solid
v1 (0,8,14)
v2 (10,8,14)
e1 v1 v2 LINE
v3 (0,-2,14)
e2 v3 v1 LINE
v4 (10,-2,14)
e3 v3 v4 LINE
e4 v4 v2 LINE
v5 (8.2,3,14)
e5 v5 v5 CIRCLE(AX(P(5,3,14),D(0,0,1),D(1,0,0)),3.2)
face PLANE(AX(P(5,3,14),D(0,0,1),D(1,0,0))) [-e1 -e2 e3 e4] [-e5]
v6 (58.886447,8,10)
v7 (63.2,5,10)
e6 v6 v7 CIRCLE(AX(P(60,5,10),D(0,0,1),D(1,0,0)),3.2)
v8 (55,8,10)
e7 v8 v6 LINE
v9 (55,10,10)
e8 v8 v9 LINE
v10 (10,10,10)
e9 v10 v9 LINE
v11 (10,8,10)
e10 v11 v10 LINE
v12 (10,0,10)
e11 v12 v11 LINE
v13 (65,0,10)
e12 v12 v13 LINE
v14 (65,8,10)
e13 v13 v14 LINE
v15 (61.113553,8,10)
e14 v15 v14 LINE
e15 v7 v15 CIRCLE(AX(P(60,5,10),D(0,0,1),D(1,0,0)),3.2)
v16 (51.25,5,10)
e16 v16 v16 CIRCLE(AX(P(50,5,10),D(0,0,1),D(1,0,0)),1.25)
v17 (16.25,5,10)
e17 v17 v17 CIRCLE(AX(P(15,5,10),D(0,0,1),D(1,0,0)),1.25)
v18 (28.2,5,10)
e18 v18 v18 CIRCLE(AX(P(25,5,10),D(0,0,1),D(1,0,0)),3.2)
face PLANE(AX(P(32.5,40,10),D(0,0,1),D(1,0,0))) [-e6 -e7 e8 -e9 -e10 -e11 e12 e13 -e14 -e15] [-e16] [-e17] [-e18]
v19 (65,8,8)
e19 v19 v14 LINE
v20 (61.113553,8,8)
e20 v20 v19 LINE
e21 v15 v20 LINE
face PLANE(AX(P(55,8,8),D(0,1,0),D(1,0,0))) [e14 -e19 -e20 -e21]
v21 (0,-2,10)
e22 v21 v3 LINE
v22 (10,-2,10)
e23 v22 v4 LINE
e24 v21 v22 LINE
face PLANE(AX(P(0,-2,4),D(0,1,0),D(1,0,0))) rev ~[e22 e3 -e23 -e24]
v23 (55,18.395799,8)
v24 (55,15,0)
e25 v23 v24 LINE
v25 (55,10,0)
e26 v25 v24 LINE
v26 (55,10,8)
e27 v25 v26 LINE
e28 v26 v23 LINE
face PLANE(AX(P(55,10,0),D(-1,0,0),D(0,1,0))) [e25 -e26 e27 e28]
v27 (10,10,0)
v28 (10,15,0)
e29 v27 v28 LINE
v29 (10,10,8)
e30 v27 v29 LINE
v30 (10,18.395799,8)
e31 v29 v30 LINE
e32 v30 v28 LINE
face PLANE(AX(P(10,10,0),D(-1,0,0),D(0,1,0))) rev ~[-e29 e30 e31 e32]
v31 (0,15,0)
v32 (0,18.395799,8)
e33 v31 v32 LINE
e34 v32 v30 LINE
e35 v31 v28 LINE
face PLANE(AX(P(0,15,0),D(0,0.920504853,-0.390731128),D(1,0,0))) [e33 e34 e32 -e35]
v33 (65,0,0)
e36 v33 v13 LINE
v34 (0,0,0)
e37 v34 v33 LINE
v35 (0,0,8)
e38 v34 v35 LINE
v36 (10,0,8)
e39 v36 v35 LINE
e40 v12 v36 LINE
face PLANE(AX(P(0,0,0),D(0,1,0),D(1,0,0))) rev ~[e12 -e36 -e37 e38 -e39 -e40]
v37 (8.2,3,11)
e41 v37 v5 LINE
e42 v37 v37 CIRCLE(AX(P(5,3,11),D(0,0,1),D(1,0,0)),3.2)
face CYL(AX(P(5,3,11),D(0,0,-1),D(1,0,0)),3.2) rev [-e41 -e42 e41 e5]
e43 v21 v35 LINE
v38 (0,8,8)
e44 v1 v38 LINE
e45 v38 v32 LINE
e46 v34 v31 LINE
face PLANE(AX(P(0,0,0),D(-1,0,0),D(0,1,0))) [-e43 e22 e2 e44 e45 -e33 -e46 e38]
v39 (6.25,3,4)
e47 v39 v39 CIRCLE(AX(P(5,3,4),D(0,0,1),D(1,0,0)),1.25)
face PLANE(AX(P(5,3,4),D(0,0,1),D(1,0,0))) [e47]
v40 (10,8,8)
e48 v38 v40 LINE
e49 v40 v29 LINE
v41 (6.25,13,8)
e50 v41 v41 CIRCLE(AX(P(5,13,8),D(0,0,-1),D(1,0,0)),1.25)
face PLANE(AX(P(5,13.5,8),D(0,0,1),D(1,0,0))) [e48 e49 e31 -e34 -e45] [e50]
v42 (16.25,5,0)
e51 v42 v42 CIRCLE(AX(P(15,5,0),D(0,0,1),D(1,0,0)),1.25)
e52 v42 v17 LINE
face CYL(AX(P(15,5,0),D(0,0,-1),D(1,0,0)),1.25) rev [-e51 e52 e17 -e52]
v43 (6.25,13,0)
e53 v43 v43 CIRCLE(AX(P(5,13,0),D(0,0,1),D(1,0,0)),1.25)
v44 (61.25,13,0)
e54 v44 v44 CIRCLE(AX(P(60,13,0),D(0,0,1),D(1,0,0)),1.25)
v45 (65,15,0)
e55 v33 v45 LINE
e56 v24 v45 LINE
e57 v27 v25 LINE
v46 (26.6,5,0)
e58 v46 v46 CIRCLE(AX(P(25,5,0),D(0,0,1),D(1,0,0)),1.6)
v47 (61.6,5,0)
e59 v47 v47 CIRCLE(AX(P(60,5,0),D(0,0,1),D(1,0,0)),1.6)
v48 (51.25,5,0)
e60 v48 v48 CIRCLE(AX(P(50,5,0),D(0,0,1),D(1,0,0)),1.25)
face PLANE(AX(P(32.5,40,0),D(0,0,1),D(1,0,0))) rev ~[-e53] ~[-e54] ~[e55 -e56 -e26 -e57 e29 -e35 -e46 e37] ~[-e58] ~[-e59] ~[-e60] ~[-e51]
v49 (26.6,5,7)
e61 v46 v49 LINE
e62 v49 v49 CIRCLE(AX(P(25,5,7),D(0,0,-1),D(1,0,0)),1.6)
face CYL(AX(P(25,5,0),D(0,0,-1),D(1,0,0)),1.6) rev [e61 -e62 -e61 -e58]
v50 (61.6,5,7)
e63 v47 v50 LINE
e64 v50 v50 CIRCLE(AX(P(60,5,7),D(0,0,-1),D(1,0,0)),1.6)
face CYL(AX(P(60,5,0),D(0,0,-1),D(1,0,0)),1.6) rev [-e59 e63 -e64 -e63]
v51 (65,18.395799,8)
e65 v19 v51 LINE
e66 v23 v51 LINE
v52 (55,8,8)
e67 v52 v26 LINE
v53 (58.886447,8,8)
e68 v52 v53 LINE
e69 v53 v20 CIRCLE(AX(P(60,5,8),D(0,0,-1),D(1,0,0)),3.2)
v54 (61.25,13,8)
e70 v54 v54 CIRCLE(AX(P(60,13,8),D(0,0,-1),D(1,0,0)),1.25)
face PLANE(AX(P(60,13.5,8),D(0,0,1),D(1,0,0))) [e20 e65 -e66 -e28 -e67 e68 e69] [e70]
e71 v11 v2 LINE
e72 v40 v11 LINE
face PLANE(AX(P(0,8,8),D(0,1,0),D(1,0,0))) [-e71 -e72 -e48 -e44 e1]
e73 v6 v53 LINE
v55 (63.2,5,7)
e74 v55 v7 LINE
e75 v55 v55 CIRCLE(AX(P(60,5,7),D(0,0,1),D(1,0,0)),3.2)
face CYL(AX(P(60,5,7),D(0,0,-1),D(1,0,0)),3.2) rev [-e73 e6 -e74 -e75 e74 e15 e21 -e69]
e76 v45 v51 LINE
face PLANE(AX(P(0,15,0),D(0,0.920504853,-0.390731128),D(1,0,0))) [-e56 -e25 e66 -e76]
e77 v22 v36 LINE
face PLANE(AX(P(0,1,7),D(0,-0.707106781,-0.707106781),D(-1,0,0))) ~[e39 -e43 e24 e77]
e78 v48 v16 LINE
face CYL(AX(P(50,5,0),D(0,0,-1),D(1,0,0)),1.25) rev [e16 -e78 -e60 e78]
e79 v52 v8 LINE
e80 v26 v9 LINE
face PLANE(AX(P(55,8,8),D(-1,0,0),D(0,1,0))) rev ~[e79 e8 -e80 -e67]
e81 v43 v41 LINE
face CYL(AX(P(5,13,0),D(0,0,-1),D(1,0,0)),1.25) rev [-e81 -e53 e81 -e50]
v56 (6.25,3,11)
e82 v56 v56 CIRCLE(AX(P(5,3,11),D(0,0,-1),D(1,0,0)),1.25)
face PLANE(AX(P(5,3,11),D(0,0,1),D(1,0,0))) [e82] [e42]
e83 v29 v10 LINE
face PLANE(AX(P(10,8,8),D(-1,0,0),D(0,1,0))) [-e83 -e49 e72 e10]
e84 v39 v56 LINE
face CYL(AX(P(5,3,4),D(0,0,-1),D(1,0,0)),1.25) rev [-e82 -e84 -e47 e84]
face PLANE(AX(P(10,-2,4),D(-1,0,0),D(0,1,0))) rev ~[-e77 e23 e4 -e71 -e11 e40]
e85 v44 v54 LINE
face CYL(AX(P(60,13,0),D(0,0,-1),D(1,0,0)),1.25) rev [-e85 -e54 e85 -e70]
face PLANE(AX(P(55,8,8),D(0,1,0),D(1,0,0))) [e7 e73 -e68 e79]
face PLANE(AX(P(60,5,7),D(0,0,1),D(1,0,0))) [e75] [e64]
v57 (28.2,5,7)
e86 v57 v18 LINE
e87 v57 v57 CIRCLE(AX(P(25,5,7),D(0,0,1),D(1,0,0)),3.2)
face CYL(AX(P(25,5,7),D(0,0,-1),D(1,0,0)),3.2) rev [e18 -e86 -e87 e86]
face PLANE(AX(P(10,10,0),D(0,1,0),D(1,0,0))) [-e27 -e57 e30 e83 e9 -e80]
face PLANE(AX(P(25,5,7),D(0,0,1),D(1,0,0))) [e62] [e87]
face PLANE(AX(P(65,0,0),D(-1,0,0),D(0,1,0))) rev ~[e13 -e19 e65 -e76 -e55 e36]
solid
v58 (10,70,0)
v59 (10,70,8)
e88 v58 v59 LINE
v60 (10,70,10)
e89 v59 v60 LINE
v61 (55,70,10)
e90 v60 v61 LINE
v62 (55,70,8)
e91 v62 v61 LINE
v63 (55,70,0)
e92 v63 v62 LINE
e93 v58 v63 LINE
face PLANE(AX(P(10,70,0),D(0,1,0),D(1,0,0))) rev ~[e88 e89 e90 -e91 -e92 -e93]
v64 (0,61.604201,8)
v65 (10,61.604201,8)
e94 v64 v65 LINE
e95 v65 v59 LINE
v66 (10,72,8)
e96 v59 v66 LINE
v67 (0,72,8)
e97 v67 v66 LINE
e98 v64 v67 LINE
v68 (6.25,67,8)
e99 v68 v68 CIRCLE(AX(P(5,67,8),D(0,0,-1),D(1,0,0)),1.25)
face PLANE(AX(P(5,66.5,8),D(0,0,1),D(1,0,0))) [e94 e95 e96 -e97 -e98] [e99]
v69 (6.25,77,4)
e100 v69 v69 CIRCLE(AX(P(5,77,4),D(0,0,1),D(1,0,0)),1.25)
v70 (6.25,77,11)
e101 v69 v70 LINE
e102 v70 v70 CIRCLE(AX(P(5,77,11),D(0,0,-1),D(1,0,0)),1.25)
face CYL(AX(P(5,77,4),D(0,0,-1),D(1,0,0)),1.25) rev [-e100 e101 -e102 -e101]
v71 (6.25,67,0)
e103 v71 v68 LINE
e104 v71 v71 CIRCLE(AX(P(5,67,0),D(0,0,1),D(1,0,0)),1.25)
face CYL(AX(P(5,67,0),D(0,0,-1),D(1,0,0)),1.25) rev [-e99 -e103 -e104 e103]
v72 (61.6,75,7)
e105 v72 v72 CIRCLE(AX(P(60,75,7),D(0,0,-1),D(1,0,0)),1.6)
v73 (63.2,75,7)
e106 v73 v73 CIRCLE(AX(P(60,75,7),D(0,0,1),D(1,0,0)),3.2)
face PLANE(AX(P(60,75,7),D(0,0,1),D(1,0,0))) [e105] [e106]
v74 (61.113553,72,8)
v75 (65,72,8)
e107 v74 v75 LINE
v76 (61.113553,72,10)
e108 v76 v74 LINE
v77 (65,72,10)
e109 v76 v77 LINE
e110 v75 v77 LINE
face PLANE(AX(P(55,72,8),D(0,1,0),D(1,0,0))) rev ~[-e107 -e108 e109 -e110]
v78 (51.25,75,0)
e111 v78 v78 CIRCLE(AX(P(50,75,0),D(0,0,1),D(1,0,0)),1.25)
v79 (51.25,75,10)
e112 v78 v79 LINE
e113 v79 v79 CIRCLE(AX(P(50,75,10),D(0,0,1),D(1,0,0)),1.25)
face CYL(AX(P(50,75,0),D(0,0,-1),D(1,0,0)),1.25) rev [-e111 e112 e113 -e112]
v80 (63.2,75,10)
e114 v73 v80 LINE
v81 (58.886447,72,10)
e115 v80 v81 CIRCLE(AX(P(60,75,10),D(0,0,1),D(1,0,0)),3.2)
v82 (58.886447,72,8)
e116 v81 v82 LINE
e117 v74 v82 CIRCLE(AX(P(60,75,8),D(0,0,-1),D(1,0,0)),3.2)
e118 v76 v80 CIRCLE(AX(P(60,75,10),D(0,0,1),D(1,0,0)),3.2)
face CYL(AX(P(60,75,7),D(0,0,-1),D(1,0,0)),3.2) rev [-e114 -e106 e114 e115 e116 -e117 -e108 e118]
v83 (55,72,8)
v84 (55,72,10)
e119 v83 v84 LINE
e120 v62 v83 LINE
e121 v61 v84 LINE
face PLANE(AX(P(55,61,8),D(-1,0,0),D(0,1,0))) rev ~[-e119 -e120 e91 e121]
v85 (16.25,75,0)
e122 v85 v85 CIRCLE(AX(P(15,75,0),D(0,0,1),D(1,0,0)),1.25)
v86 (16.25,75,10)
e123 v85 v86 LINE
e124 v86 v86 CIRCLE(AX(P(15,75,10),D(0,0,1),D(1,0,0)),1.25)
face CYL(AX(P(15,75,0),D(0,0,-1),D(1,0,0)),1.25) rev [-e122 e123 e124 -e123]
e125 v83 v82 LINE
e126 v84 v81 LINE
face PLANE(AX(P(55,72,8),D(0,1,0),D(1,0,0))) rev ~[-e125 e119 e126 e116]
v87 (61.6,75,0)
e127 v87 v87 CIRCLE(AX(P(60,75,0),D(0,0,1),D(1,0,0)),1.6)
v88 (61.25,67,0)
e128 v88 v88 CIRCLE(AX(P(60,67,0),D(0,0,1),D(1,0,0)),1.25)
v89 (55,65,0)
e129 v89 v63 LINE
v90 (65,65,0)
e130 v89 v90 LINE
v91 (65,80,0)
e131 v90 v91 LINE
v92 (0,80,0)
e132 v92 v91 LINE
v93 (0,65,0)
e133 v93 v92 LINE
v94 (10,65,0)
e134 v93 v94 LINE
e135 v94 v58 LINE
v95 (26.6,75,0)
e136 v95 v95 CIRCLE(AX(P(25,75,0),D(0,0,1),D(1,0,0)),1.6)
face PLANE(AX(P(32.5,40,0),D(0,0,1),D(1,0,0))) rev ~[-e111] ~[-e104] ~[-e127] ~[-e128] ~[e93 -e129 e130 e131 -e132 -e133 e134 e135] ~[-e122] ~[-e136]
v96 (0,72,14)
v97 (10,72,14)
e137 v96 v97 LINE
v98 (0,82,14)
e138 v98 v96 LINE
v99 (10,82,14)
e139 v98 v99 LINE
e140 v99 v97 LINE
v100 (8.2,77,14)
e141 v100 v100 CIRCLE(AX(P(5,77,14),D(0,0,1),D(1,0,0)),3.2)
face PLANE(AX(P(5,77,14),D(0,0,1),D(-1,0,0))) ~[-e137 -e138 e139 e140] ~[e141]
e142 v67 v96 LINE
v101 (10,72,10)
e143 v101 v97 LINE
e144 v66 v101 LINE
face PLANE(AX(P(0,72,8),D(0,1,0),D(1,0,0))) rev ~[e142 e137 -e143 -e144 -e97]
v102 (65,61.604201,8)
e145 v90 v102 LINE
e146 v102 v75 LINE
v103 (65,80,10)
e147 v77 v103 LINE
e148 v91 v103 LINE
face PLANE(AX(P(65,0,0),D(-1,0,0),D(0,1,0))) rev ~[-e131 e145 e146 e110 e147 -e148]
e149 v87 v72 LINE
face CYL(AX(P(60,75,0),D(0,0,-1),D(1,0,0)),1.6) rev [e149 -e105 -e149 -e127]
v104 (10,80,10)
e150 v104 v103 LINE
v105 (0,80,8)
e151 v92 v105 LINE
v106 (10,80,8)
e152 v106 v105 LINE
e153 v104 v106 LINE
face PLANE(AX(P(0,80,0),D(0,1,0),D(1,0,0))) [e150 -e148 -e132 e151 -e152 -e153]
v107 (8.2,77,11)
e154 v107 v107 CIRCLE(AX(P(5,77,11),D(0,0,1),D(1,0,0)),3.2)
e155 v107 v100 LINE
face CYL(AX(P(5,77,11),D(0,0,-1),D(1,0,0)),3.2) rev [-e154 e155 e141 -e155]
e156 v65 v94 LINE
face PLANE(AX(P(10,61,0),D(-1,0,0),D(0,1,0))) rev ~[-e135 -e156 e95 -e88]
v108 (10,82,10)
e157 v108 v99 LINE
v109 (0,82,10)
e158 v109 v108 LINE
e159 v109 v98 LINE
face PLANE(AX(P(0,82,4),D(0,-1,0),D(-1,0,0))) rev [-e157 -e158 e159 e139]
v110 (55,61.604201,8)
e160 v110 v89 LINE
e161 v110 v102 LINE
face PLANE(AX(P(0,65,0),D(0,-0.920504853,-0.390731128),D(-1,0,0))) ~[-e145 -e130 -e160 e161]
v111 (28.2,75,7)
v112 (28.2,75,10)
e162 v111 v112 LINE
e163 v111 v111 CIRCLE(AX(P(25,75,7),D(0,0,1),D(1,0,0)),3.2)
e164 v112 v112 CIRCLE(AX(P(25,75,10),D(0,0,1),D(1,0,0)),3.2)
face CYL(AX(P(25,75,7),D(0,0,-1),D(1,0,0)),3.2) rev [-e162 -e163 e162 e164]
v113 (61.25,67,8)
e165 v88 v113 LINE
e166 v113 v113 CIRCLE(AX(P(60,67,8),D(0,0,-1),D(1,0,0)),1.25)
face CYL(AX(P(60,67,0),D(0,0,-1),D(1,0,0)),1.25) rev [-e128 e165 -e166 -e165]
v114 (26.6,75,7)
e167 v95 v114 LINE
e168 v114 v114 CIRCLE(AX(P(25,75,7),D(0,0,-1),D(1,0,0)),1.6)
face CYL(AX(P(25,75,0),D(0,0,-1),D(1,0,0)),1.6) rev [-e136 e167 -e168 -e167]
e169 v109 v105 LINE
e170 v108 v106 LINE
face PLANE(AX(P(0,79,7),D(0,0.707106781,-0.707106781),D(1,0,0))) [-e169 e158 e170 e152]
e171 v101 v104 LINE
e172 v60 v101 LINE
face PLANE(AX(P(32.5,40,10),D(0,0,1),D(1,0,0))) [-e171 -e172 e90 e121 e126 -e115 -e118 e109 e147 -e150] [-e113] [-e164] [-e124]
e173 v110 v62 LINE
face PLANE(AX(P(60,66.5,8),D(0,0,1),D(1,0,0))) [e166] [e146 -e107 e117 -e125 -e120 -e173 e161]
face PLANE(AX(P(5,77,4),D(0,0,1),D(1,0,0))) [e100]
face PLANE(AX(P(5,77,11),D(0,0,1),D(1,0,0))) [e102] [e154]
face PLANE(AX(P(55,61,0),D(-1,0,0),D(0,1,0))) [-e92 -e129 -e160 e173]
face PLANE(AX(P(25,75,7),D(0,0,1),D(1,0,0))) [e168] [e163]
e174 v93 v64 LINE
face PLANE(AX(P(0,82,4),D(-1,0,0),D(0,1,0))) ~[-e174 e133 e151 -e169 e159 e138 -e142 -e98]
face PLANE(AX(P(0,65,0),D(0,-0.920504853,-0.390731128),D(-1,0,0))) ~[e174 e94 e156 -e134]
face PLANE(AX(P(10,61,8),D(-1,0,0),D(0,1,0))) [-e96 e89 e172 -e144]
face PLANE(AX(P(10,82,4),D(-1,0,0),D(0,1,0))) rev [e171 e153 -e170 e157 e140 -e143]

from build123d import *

# Parameters (mm, degrees)
BOX010_W          = 10
BOX010_H          = 11
BOX010_DEPTH      = 2
BOX011_W          = 10
BOX011_H          = 11
BOX011_DEPTH      = 2
BOX009_W          = 10
BOX009_H          = 11
BOX009_DEPTH      = 2
BOX008_W          = 10
BOX008_H          = 11
BOX008_DEPTH      = 2
CYLINDER018_R     = 3.2
CYLINDER018_DEPTH = 3
CYLINDER019_R     = 1.25
CYLINDER019_DEPTH = 10
CYLINDER017_R     = 3.2
CYLINDER017_DEPTH = 3
CYLINDER016_R     = 1.25
CYLINDER016_DEPTH = 10
CYLINDER011_R     = 1.25
CYLINDER011_DEPTH = 10
CYLINDER010_R     = 1.25
CYLINDER010_DEPTH = 10
CYLINDER014_R     = 1.25
CYLINDER014_DEPTH = 10
CYLINDER015_R     = 1.25
CYLINDER015_DEPTH = 10
CYLINDER007_R     = 3.2
CYLINDER007_DEPTH = 3
CYLINDER006_R     = 3.2
CYLINDER006_DEPTH = 3
CYLINDER004_R     = 1.6
CYLINDER004_DEPTH = 10
CYLINDER005_R     = 1.6
CYLINDER005_DEPTH = 10
BOX006_W          = 65
BOX006_H          = 10
BOX006_DEPTH      = 12
BOX006_ROLL_ANGLE = -23
BOX005_W          = 65
BOX005_H          = 10
BOX005_DEPTH      = 12
BOX005_ROLL_ANGLE = -23
CYLINDER002_R     = 1.25
CYLINDER002_DEPTH = 10
CYLINDER003_R     = 1.25
CYLINDER003_DEPTH = 10
CYLINDER001_R     = 1.25
CYLINDER001_DEPTH = 10
CYLINDER_R        = 1.25
CYLINDER_DEPTH    = 10
BOX004_W          = 45
BOX004_H          = 9
BOX004_DEPTH      = 10
BOX003_W          = 45
BOX003_H          = 9
BOX003_DEPTH      = 10
BOX001_W          = 65
BOX001_H          = 42
BOX001_DEPTH      = 10
BOX_W             = 65
BOX_H             = 80
BOX_DEPTH         = 10
BOX007_W          = 10
BOX007_H          = 10
BOX007_DEPTH      = 10
CHAMFER_SIZE      = 6
BOX002_W          = 10
BOX002_H          = 10
BOX002_DEPTH      = 10
CHAMFER002_SIZE   = 6


with BuildPart() as box010:
    # Box010 → Box010 (new body)
    with BuildSketch(Plane(origin=(55, 8, 8), x_dir=(1, 0, 0), z_dir=(0, 0, 1))):
        with Locations((5, 5.5)):
            Rectangle(BOX010_W, BOX010_H)
    extrude(amount=BOX010_DEPTH)


with BuildPart() as box011:
    # Box011 → Box011 (new body)
    with BuildSketch(Plane(origin=(55, 61, 8), x_dir=(1, 0, 0), z_dir=(0, 0, 1))):
        with Locations((5, 5.5)):
            Rectangle(BOX011_W, BOX011_H)
    extrude(amount=BOX011_DEPTH)


with BuildPart() as box009:
    # Box009 → Box009 (new body)
    with BuildSketch(Plane(origin=(0, 61, 8), x_dir=(1, 0, 0), z_dir=(0, 0, 1))):
        with Locations((5, 5.5)):
            Rectangle(BOX009_W, BOX009_H)
    extrude(amount=BOX009_DEPTH)


with BuildPart() as fusion019:
    # Box008 → Box008 (new body)
    with BuildSketch(Plane(origin=(0, 8, 8), x_dir=(1, 0, 0), z_dir=(0, 0, 1))):
        with Locations((5, 5.5)):
            Rectangle(BOX008_W, BOX008_H)
    extrude(amount=BOX008_DEPTH)

    # Fusion019: union Box010, Box011, Box009
    add(box010.part)
    add(box011.part)
    add(box009.part)


with BuildPart() as cylinder018:
    # Cylinder018 → Cylinder018 (new body)
    with BuildSketch(Plane(origin=(5, 3, 11), x_dir=(1, 0, 0), z_dir=(0, 0, 1))):
        Circle(CYLINDER018_R)
    extrude(amount=CYLINDER018_DEPTH)


with BuildPart() as fusion017:
    # Cylinder019 → Cylinder019 (new body)
    with BuildSketch(Plane(origin=(5, 3, 4), x_dir=(1, 0, 0), z_dir=(0, 0, 1))):
        Circle(CYLINDER019_R)
    extrude(amount=CYLINDER019_DEPTH)

    # Fusion017: union Cylinder018
    add(cylinder018.part)


with BuildPart() as fusion017_1:
    # Fusion017 placement: moved
    add(fusion017.part.moved(Location((0, 74, 0))))


with BuildPart() as cylinder017:
    # Cylinder017 → Cylinder017 (new body)
    with BuildSketch(Plane(origin=(5, 3, 11), x_dir=(1, 0, 0), z_dir=(0, 0, 1))):
        Circle(CYLINDER017_R)
    extrude(amount=CYLINDER017_DEPTH)


with BuildPart() as fusion018:
    # Cylinder016 → Cylinder016 (new body)
    with BuildSketch(Plane(origin=(5, 3, 4), x_dir=(1, 0, 0), z_dir=(0, 0, 1))):
        Circle(CYLINDER016_R)
    extrude(amount=CYLINDER016_DEPTH)

    # Fusion016: union Cylinder017
    add(cylinder017.part)

    # Fusion018: union Fusion017
    add(fusion017_1.part)


with BuildPart() as cylinder011:
    # Cylinder011 → Cylinder011 (new body)
    with BuildSketch(Plane.XY):
        Circle(CYLINDER011_R)
    extrude(amount=CYLINDER011_DEPTH)


with BuildPart() as fusion011:
    # Cylinder010 → Cylinder010 (new body)
    with BuildSketch(Plane(origin=(0, 70, 0), x_dir=(1, 0, 0), z_dir=(0, 0, 1))):
        Circle(CYLINDER010_R)
    extrude(amount=CYLINDER010_DEPTH)

    # Fusion011: union Cylinder011
    add(cylinder011.part)


with BuildPart() as fusion011_1:
    # Fusion011 placement: moved
    add(fusion011.part.moved(Location((50, 5, 0))))


with BuildPart() as cylinder014:
    # Cylinder014 → Cylinder014 (new body)
    with BuildSketch(Plane.XY):
        Circle(CYLINDER014_R)
    extrude(amount=CYLINDER014_DEPTH)


with BuildPart() as fusion012:
    # Cylinder015 → Cylinder015 (new body)
    with BuildSketch(Plane(origin=(0, 70, 0), x_dir=(1, 0, 0), z_dir=(0, 0, 1))):
        Circle(CYLINDER015_R)
    extrude(amount=CYLINDER015_DEPTH)

    # Fusion012: union Cylinder014
    add(cylinder014.part)


with BuildPart() as fusion012_1:
    # Fusion012 placement: moved
    add(fusion012.part.moved(Location((15, 5, 0))))


with BuildPart() as cylinder007:
    # Cylinder007 → Cylinder007 (new body)
    with BuildSketch(Plane(origin=(5, 0, 0), x_dir=(1, 0, 0), z_dir=(0, 0, 1))):
        Circle(CYLINDER007_R)
    extrude(amount=CYLINDER007_DEPTH)


with BuildPart() as cylinder006:
    # Cylinder006 → Cylinder006 (new body)
    with BuildSketch(Plane(origin=(5, 70, 0), x_dir=(1, 0, 0), z_dir=(0, 0, 1))):
        Circle(CYLINDER006_R)
    extrude(amount=CYLINDER006_DEPTH)


with BuildPart() as fusion006:
    # Fusion006 base: copy of Cylinder006
    add(cylinder006.part)

    # Fusion006: union Cylinder007
    add(cylinder007.part)


with BuildPart() as fusion006_1:
    # Fusion006 placement: moved
    add(fusion006.part.moved(Location((0, 5, 7))))


with BuildPart() as cylinder004:
    # Cylinder004 → Cylinder004 (new body)
    with BuildSketch(Plane(origin=(5, 0, 0), x_dir=(1, 0, 0), z_dir=(0, 0, 1))):
        Circle(CYLINDER004_R)
    extrude(amount=CYLINDER004_DEPTH)


with BuildPart() as cylinder005:
    # Cylinder005 → Cylinder005 (new body)
    with BuildSketch(Plane(origin=(5, 70, 0), x_dir=(1, 0, 0), z_dir=(0, 0, 1))):
        Circle(CYLINDER005_R)
    extrude(amount=CYLINDER005_DEPTH)


with BuildPart() as fusion007:
    # Fusion008 base: copy of Cylinder005
    add(cylinder005.part)

    # Fusion008: union Cylinder004
    add(cylinder004.part)


with BuildPart() as fusion007_1:
    # Fusion008 placement: moved
    add(fusion007.part.moved(Location((0, 5, 0))))

    # Fusion007: union Fusion006
    add(fusion006_1.part)


with BuildPart() as fusion007_2:
    # Fusion007 placement: moved
    add(fusion007_1.part.moved(Location((20, 0, 0))))


with BuildPart() as fusion004:
    # Fusion004 base: copy of Cylinder006
    add(cylinder006.part)

    # Fusion004: union Cylinder007
    add(cylinder007.part)


with BuildPart() as fusion004_1:
    # Fusion004 placement: moved
    add(fusion004.part.moved(Location((0, 5, 7))))


with BuildPart() as fusion014:
    # Fusion003 base: copy of Cylinder005
    add(cylinder005.part)

    # Fusion003: union Cylinder004
    add(cylinder004.part)


with BuildPart() as fusion014_1:
    # Fusion003 placement: moved
    add(fusion014.part.moved(Location((0, 5, 0))))

    # Fusion005: union Fusion004
    add(fusion004_1.part)


with BuildPart() as fusion014_2:
    # Fusion005 placement: moved
    add(fusion014_1.part.moved(Location((55, 0, 0))))

    # Fusion009: union Fusion007
    add(fusion007_2.part)

    # Fusion014: union Fusion011, Fusion012
    add(fusion011_1.part)
    add(fusion012_1.part)


with BuildPart() as box006:
    # Box006 → Box006 (new body)
    with BuildSketch(Plane.XY):
        with Locations((32.5, 5)):
            Rectangle(BOX006_W, BOX006_H)
    extrude(amount=BOX006_DEPTH)


with BuildPart() as box006_1:
    # Box006 roll: moved
    add(box006.part.rotate(Axis((0, 0, 0), (1, 0, 0)), BOX006_ROLL_ANGLE))


with BuildPart() as box006_2:
    # Box006 placement: moved
    add(box006_1.part.moved(Location((0, 15, 0))))


with BuildPart() as box005:
    # Box005 → Box005 (new body)
    with BuildSketch(Plane.XY):
        with Locations((32.5, 5)):
            Rectangle(BOX005_W, BOX005_H)
    extrude(amount=BOX005_DEPTH)


with BuildPart() as box005_1:
    # Box005 roll: moved
    add(box005.part.rotate(Axis((0, 0, 0), (1, 0, 0)), BOX005_ROLL_ANGLE))


with BuildPart() as box005_2:
    # Box005 placement: moved
    add(box005_1.part.moved(Location((0, 15, 0))))


with BuildPart() as fusion013:
    # Part__Mirroring: instance of Box005
    add(box005_2.part.mirror(Plane(origin=(0, 0, 0), x_dir=(1, 0, 0), z_dir=(0, 1, 0))))


with BuildPart() as fusion013_1:
    # Part__Mirroring placement: moved
    add(fusion013.part.moved(Location((0, 80, 0))))

    # Fusion013: union Box006
    add(box006_2.part)


with BuildPart() as cylinder002:
    # Cylinder002 → Cylinder002 (new body)
    with BuildSketch(Plane(origin=(0, 54, 0), x_dir=(1, 0, 0), z_dir=(0, 0, 1))):
        Circle(CYLINDER002_R)
    extrude(amount=CYLINDER002_DEPTH)


with BuildPart() as fusion001:
    # Cylinder003 → Cylinder003 (new body)
    with BuildSketch(Plane.XY):
        Circle(CYLINDER003_R)
    extrude(amount=CYLINDER003_DEPTH)

    # Fusion001: union Cylinder002
    add(cylinder002.part)


with BuildPart() as fusion001_1:
    # Fusion001 placement: moved
    add(fusion001.part.moved(Location((60, 13, 0))))


with BuildPart() as cylinder001:
    # Cylinder001 → Cylinder001 (new body)
    with BuildSketch(Plane(origin=(0, 54, 0), x_dir=(1, 0, 0), z_dir=(0, 0, 1))):
        Circle(CYLINDER001_R)
    extrude(amount=CYLINDER001_DEPTH)


with BuildPart() as fusion002:
    # Cylinder → Cylinder (new body)
    with BuildSketch(Plane.XY):
        Circle(CYLINDER_R)
    extrude(amount=CYLINDER_DEPTH)

    # Fusion: union Cylinder001
    add(cylinder001.part)


with BuildPart() as fusion002_1:
    # Fusion placement: moved
    add(fusion002.part.moved(Location((5, 13, 0))))

    # Fusion002: union Fusion001
    add(fusion001_1.part)


with BuildPart() as box004:
    # Box004 → Box004 (new body)
    with BuildSketch(Plane(origin=(10, 61, 0), x_dir=(1, 0, 0), z_dir=(0, 0, 1))):
        with Locations((22.5, 4.5)):
            Rectangle(BOX004_W, BOX004_H)
    extrude(amount=BOX004_DEPTH)


with BuildPart() as fusion010:
    # Box003 → Box003 (new body)
    with BuildSketch(Plane(origin=(10, 10, 0), x_dir=(1, 0, 0), z_dir=(0, 0, 1))):
        with Locations((22.5, 4.5)):
            Rectangle(BOX003_W, BOX003_H)
    extrude(amount=BOX003_DEPTH)

    # Fusion010: union Box004
    add(box004.part)


with BuildPart() as cube001:
    # Box001 → Box001 (new body)
    with BuildSketch(Plane(origin=(0, 19, 0), x_dir=(1, 0, 0), z_dir=(0, 0, 1))):
        with Locations((32.5, 21)):
            Rectangle(BOX001_W, BOX001_H)
    extrude(amount=BOX001_DEPTH)


with BuildPart() as cut009:
    # Box → Box (new body)
    with BuildSketch(Plane.XY):
        with Locations((32.5, 40)):
            Rectangle(BOX_W, BOX_H)
    extrude(amount=BOX_DEPTH)

    # Cut: cut Cube001
    add(cube001.part, mode=Mode.SUBTRACT)

    # Cut006: cut Fusion010
    add(fusion010.part, mode=Mode.SUBTRACT)

    # Cut007: cut Fusion002
    add(fusion002_1.part, mode=Mode.SUBTRACT)

    # Cut008: cut Fusion013
    add(fusion013_1.part, mode=Mode.SUBTRACT)

    # Cut009: cut Fusion014
    add(fusion014_2.part, mode=Mode.SUBTRACT)


with BuildPart() as chamfer_body:
    # Box007 → Box007 (new body)
    with BuildSketch(Plane(origin=(0, -2, 4), x_dir=(1, 0, 0), z_dir=(0, 0, 1))):
        with Locations((5, 5)):
            Rectangle(BOX007_W, BOX007_H)
    extrude(amount=BOX007_DEPTH)

    # Chamfer
    chamfer_edges = [chamfer_body.edges().sort_by_distance(p)[0] for p in [
        (5, -2, 4),
    ]]
    chamfer(chamfer_edges, length=CHAMFER_SIZE)


with BuildPart() as part_mirroring001:
    # Part__Mirroring001: instance of Chamfer body
    add(chamfer_body.part.mirror(Plane(origin=(0, 0, 0), x_dir=(1, 0, 0), z_dir=(0, 1, 0))))


with BuildPart() as part_mirroring001_1:
    # Part__Mirroring001 placement: moved
    add(part_mirroring001.part.moved(Location((0, 80, 0))))


with BuildPart() as gearbox_holder:
    # Box002 → Box002 (new body)
    with BuildSketch(Plane(origin=(0, -2, 4), x_dir=(1, 0, 0), z_dir=(0, 0, 1))):
        with Locations((5, 5)):
            Rectangle(BOX002_W, BOX002_H)
    extrude(amount=BOX002_DEPTH)

    # Chamfer002
    chamfer002_edges = [gearbox_holder.edges().sort_by_distance(p)[0] for p in [
        (5, -2, 4),
    ]]
    chamfer(chamfer002_edges, length=CHAMFER002_SIZE)

    # Fusion015: union Cut009, Part__Mirroring001
    add(cut009.part)
    add(part_mirroring001_1.part)

    # Cut010: cut Fusion018
    add(fusion018.part, mode=Mode.SUBTRACT)

    # Cut011: cut Fusion019
    add(fusion019.part, mode=Mode.SUBTRACT)


solid = gearbox_holder.part
